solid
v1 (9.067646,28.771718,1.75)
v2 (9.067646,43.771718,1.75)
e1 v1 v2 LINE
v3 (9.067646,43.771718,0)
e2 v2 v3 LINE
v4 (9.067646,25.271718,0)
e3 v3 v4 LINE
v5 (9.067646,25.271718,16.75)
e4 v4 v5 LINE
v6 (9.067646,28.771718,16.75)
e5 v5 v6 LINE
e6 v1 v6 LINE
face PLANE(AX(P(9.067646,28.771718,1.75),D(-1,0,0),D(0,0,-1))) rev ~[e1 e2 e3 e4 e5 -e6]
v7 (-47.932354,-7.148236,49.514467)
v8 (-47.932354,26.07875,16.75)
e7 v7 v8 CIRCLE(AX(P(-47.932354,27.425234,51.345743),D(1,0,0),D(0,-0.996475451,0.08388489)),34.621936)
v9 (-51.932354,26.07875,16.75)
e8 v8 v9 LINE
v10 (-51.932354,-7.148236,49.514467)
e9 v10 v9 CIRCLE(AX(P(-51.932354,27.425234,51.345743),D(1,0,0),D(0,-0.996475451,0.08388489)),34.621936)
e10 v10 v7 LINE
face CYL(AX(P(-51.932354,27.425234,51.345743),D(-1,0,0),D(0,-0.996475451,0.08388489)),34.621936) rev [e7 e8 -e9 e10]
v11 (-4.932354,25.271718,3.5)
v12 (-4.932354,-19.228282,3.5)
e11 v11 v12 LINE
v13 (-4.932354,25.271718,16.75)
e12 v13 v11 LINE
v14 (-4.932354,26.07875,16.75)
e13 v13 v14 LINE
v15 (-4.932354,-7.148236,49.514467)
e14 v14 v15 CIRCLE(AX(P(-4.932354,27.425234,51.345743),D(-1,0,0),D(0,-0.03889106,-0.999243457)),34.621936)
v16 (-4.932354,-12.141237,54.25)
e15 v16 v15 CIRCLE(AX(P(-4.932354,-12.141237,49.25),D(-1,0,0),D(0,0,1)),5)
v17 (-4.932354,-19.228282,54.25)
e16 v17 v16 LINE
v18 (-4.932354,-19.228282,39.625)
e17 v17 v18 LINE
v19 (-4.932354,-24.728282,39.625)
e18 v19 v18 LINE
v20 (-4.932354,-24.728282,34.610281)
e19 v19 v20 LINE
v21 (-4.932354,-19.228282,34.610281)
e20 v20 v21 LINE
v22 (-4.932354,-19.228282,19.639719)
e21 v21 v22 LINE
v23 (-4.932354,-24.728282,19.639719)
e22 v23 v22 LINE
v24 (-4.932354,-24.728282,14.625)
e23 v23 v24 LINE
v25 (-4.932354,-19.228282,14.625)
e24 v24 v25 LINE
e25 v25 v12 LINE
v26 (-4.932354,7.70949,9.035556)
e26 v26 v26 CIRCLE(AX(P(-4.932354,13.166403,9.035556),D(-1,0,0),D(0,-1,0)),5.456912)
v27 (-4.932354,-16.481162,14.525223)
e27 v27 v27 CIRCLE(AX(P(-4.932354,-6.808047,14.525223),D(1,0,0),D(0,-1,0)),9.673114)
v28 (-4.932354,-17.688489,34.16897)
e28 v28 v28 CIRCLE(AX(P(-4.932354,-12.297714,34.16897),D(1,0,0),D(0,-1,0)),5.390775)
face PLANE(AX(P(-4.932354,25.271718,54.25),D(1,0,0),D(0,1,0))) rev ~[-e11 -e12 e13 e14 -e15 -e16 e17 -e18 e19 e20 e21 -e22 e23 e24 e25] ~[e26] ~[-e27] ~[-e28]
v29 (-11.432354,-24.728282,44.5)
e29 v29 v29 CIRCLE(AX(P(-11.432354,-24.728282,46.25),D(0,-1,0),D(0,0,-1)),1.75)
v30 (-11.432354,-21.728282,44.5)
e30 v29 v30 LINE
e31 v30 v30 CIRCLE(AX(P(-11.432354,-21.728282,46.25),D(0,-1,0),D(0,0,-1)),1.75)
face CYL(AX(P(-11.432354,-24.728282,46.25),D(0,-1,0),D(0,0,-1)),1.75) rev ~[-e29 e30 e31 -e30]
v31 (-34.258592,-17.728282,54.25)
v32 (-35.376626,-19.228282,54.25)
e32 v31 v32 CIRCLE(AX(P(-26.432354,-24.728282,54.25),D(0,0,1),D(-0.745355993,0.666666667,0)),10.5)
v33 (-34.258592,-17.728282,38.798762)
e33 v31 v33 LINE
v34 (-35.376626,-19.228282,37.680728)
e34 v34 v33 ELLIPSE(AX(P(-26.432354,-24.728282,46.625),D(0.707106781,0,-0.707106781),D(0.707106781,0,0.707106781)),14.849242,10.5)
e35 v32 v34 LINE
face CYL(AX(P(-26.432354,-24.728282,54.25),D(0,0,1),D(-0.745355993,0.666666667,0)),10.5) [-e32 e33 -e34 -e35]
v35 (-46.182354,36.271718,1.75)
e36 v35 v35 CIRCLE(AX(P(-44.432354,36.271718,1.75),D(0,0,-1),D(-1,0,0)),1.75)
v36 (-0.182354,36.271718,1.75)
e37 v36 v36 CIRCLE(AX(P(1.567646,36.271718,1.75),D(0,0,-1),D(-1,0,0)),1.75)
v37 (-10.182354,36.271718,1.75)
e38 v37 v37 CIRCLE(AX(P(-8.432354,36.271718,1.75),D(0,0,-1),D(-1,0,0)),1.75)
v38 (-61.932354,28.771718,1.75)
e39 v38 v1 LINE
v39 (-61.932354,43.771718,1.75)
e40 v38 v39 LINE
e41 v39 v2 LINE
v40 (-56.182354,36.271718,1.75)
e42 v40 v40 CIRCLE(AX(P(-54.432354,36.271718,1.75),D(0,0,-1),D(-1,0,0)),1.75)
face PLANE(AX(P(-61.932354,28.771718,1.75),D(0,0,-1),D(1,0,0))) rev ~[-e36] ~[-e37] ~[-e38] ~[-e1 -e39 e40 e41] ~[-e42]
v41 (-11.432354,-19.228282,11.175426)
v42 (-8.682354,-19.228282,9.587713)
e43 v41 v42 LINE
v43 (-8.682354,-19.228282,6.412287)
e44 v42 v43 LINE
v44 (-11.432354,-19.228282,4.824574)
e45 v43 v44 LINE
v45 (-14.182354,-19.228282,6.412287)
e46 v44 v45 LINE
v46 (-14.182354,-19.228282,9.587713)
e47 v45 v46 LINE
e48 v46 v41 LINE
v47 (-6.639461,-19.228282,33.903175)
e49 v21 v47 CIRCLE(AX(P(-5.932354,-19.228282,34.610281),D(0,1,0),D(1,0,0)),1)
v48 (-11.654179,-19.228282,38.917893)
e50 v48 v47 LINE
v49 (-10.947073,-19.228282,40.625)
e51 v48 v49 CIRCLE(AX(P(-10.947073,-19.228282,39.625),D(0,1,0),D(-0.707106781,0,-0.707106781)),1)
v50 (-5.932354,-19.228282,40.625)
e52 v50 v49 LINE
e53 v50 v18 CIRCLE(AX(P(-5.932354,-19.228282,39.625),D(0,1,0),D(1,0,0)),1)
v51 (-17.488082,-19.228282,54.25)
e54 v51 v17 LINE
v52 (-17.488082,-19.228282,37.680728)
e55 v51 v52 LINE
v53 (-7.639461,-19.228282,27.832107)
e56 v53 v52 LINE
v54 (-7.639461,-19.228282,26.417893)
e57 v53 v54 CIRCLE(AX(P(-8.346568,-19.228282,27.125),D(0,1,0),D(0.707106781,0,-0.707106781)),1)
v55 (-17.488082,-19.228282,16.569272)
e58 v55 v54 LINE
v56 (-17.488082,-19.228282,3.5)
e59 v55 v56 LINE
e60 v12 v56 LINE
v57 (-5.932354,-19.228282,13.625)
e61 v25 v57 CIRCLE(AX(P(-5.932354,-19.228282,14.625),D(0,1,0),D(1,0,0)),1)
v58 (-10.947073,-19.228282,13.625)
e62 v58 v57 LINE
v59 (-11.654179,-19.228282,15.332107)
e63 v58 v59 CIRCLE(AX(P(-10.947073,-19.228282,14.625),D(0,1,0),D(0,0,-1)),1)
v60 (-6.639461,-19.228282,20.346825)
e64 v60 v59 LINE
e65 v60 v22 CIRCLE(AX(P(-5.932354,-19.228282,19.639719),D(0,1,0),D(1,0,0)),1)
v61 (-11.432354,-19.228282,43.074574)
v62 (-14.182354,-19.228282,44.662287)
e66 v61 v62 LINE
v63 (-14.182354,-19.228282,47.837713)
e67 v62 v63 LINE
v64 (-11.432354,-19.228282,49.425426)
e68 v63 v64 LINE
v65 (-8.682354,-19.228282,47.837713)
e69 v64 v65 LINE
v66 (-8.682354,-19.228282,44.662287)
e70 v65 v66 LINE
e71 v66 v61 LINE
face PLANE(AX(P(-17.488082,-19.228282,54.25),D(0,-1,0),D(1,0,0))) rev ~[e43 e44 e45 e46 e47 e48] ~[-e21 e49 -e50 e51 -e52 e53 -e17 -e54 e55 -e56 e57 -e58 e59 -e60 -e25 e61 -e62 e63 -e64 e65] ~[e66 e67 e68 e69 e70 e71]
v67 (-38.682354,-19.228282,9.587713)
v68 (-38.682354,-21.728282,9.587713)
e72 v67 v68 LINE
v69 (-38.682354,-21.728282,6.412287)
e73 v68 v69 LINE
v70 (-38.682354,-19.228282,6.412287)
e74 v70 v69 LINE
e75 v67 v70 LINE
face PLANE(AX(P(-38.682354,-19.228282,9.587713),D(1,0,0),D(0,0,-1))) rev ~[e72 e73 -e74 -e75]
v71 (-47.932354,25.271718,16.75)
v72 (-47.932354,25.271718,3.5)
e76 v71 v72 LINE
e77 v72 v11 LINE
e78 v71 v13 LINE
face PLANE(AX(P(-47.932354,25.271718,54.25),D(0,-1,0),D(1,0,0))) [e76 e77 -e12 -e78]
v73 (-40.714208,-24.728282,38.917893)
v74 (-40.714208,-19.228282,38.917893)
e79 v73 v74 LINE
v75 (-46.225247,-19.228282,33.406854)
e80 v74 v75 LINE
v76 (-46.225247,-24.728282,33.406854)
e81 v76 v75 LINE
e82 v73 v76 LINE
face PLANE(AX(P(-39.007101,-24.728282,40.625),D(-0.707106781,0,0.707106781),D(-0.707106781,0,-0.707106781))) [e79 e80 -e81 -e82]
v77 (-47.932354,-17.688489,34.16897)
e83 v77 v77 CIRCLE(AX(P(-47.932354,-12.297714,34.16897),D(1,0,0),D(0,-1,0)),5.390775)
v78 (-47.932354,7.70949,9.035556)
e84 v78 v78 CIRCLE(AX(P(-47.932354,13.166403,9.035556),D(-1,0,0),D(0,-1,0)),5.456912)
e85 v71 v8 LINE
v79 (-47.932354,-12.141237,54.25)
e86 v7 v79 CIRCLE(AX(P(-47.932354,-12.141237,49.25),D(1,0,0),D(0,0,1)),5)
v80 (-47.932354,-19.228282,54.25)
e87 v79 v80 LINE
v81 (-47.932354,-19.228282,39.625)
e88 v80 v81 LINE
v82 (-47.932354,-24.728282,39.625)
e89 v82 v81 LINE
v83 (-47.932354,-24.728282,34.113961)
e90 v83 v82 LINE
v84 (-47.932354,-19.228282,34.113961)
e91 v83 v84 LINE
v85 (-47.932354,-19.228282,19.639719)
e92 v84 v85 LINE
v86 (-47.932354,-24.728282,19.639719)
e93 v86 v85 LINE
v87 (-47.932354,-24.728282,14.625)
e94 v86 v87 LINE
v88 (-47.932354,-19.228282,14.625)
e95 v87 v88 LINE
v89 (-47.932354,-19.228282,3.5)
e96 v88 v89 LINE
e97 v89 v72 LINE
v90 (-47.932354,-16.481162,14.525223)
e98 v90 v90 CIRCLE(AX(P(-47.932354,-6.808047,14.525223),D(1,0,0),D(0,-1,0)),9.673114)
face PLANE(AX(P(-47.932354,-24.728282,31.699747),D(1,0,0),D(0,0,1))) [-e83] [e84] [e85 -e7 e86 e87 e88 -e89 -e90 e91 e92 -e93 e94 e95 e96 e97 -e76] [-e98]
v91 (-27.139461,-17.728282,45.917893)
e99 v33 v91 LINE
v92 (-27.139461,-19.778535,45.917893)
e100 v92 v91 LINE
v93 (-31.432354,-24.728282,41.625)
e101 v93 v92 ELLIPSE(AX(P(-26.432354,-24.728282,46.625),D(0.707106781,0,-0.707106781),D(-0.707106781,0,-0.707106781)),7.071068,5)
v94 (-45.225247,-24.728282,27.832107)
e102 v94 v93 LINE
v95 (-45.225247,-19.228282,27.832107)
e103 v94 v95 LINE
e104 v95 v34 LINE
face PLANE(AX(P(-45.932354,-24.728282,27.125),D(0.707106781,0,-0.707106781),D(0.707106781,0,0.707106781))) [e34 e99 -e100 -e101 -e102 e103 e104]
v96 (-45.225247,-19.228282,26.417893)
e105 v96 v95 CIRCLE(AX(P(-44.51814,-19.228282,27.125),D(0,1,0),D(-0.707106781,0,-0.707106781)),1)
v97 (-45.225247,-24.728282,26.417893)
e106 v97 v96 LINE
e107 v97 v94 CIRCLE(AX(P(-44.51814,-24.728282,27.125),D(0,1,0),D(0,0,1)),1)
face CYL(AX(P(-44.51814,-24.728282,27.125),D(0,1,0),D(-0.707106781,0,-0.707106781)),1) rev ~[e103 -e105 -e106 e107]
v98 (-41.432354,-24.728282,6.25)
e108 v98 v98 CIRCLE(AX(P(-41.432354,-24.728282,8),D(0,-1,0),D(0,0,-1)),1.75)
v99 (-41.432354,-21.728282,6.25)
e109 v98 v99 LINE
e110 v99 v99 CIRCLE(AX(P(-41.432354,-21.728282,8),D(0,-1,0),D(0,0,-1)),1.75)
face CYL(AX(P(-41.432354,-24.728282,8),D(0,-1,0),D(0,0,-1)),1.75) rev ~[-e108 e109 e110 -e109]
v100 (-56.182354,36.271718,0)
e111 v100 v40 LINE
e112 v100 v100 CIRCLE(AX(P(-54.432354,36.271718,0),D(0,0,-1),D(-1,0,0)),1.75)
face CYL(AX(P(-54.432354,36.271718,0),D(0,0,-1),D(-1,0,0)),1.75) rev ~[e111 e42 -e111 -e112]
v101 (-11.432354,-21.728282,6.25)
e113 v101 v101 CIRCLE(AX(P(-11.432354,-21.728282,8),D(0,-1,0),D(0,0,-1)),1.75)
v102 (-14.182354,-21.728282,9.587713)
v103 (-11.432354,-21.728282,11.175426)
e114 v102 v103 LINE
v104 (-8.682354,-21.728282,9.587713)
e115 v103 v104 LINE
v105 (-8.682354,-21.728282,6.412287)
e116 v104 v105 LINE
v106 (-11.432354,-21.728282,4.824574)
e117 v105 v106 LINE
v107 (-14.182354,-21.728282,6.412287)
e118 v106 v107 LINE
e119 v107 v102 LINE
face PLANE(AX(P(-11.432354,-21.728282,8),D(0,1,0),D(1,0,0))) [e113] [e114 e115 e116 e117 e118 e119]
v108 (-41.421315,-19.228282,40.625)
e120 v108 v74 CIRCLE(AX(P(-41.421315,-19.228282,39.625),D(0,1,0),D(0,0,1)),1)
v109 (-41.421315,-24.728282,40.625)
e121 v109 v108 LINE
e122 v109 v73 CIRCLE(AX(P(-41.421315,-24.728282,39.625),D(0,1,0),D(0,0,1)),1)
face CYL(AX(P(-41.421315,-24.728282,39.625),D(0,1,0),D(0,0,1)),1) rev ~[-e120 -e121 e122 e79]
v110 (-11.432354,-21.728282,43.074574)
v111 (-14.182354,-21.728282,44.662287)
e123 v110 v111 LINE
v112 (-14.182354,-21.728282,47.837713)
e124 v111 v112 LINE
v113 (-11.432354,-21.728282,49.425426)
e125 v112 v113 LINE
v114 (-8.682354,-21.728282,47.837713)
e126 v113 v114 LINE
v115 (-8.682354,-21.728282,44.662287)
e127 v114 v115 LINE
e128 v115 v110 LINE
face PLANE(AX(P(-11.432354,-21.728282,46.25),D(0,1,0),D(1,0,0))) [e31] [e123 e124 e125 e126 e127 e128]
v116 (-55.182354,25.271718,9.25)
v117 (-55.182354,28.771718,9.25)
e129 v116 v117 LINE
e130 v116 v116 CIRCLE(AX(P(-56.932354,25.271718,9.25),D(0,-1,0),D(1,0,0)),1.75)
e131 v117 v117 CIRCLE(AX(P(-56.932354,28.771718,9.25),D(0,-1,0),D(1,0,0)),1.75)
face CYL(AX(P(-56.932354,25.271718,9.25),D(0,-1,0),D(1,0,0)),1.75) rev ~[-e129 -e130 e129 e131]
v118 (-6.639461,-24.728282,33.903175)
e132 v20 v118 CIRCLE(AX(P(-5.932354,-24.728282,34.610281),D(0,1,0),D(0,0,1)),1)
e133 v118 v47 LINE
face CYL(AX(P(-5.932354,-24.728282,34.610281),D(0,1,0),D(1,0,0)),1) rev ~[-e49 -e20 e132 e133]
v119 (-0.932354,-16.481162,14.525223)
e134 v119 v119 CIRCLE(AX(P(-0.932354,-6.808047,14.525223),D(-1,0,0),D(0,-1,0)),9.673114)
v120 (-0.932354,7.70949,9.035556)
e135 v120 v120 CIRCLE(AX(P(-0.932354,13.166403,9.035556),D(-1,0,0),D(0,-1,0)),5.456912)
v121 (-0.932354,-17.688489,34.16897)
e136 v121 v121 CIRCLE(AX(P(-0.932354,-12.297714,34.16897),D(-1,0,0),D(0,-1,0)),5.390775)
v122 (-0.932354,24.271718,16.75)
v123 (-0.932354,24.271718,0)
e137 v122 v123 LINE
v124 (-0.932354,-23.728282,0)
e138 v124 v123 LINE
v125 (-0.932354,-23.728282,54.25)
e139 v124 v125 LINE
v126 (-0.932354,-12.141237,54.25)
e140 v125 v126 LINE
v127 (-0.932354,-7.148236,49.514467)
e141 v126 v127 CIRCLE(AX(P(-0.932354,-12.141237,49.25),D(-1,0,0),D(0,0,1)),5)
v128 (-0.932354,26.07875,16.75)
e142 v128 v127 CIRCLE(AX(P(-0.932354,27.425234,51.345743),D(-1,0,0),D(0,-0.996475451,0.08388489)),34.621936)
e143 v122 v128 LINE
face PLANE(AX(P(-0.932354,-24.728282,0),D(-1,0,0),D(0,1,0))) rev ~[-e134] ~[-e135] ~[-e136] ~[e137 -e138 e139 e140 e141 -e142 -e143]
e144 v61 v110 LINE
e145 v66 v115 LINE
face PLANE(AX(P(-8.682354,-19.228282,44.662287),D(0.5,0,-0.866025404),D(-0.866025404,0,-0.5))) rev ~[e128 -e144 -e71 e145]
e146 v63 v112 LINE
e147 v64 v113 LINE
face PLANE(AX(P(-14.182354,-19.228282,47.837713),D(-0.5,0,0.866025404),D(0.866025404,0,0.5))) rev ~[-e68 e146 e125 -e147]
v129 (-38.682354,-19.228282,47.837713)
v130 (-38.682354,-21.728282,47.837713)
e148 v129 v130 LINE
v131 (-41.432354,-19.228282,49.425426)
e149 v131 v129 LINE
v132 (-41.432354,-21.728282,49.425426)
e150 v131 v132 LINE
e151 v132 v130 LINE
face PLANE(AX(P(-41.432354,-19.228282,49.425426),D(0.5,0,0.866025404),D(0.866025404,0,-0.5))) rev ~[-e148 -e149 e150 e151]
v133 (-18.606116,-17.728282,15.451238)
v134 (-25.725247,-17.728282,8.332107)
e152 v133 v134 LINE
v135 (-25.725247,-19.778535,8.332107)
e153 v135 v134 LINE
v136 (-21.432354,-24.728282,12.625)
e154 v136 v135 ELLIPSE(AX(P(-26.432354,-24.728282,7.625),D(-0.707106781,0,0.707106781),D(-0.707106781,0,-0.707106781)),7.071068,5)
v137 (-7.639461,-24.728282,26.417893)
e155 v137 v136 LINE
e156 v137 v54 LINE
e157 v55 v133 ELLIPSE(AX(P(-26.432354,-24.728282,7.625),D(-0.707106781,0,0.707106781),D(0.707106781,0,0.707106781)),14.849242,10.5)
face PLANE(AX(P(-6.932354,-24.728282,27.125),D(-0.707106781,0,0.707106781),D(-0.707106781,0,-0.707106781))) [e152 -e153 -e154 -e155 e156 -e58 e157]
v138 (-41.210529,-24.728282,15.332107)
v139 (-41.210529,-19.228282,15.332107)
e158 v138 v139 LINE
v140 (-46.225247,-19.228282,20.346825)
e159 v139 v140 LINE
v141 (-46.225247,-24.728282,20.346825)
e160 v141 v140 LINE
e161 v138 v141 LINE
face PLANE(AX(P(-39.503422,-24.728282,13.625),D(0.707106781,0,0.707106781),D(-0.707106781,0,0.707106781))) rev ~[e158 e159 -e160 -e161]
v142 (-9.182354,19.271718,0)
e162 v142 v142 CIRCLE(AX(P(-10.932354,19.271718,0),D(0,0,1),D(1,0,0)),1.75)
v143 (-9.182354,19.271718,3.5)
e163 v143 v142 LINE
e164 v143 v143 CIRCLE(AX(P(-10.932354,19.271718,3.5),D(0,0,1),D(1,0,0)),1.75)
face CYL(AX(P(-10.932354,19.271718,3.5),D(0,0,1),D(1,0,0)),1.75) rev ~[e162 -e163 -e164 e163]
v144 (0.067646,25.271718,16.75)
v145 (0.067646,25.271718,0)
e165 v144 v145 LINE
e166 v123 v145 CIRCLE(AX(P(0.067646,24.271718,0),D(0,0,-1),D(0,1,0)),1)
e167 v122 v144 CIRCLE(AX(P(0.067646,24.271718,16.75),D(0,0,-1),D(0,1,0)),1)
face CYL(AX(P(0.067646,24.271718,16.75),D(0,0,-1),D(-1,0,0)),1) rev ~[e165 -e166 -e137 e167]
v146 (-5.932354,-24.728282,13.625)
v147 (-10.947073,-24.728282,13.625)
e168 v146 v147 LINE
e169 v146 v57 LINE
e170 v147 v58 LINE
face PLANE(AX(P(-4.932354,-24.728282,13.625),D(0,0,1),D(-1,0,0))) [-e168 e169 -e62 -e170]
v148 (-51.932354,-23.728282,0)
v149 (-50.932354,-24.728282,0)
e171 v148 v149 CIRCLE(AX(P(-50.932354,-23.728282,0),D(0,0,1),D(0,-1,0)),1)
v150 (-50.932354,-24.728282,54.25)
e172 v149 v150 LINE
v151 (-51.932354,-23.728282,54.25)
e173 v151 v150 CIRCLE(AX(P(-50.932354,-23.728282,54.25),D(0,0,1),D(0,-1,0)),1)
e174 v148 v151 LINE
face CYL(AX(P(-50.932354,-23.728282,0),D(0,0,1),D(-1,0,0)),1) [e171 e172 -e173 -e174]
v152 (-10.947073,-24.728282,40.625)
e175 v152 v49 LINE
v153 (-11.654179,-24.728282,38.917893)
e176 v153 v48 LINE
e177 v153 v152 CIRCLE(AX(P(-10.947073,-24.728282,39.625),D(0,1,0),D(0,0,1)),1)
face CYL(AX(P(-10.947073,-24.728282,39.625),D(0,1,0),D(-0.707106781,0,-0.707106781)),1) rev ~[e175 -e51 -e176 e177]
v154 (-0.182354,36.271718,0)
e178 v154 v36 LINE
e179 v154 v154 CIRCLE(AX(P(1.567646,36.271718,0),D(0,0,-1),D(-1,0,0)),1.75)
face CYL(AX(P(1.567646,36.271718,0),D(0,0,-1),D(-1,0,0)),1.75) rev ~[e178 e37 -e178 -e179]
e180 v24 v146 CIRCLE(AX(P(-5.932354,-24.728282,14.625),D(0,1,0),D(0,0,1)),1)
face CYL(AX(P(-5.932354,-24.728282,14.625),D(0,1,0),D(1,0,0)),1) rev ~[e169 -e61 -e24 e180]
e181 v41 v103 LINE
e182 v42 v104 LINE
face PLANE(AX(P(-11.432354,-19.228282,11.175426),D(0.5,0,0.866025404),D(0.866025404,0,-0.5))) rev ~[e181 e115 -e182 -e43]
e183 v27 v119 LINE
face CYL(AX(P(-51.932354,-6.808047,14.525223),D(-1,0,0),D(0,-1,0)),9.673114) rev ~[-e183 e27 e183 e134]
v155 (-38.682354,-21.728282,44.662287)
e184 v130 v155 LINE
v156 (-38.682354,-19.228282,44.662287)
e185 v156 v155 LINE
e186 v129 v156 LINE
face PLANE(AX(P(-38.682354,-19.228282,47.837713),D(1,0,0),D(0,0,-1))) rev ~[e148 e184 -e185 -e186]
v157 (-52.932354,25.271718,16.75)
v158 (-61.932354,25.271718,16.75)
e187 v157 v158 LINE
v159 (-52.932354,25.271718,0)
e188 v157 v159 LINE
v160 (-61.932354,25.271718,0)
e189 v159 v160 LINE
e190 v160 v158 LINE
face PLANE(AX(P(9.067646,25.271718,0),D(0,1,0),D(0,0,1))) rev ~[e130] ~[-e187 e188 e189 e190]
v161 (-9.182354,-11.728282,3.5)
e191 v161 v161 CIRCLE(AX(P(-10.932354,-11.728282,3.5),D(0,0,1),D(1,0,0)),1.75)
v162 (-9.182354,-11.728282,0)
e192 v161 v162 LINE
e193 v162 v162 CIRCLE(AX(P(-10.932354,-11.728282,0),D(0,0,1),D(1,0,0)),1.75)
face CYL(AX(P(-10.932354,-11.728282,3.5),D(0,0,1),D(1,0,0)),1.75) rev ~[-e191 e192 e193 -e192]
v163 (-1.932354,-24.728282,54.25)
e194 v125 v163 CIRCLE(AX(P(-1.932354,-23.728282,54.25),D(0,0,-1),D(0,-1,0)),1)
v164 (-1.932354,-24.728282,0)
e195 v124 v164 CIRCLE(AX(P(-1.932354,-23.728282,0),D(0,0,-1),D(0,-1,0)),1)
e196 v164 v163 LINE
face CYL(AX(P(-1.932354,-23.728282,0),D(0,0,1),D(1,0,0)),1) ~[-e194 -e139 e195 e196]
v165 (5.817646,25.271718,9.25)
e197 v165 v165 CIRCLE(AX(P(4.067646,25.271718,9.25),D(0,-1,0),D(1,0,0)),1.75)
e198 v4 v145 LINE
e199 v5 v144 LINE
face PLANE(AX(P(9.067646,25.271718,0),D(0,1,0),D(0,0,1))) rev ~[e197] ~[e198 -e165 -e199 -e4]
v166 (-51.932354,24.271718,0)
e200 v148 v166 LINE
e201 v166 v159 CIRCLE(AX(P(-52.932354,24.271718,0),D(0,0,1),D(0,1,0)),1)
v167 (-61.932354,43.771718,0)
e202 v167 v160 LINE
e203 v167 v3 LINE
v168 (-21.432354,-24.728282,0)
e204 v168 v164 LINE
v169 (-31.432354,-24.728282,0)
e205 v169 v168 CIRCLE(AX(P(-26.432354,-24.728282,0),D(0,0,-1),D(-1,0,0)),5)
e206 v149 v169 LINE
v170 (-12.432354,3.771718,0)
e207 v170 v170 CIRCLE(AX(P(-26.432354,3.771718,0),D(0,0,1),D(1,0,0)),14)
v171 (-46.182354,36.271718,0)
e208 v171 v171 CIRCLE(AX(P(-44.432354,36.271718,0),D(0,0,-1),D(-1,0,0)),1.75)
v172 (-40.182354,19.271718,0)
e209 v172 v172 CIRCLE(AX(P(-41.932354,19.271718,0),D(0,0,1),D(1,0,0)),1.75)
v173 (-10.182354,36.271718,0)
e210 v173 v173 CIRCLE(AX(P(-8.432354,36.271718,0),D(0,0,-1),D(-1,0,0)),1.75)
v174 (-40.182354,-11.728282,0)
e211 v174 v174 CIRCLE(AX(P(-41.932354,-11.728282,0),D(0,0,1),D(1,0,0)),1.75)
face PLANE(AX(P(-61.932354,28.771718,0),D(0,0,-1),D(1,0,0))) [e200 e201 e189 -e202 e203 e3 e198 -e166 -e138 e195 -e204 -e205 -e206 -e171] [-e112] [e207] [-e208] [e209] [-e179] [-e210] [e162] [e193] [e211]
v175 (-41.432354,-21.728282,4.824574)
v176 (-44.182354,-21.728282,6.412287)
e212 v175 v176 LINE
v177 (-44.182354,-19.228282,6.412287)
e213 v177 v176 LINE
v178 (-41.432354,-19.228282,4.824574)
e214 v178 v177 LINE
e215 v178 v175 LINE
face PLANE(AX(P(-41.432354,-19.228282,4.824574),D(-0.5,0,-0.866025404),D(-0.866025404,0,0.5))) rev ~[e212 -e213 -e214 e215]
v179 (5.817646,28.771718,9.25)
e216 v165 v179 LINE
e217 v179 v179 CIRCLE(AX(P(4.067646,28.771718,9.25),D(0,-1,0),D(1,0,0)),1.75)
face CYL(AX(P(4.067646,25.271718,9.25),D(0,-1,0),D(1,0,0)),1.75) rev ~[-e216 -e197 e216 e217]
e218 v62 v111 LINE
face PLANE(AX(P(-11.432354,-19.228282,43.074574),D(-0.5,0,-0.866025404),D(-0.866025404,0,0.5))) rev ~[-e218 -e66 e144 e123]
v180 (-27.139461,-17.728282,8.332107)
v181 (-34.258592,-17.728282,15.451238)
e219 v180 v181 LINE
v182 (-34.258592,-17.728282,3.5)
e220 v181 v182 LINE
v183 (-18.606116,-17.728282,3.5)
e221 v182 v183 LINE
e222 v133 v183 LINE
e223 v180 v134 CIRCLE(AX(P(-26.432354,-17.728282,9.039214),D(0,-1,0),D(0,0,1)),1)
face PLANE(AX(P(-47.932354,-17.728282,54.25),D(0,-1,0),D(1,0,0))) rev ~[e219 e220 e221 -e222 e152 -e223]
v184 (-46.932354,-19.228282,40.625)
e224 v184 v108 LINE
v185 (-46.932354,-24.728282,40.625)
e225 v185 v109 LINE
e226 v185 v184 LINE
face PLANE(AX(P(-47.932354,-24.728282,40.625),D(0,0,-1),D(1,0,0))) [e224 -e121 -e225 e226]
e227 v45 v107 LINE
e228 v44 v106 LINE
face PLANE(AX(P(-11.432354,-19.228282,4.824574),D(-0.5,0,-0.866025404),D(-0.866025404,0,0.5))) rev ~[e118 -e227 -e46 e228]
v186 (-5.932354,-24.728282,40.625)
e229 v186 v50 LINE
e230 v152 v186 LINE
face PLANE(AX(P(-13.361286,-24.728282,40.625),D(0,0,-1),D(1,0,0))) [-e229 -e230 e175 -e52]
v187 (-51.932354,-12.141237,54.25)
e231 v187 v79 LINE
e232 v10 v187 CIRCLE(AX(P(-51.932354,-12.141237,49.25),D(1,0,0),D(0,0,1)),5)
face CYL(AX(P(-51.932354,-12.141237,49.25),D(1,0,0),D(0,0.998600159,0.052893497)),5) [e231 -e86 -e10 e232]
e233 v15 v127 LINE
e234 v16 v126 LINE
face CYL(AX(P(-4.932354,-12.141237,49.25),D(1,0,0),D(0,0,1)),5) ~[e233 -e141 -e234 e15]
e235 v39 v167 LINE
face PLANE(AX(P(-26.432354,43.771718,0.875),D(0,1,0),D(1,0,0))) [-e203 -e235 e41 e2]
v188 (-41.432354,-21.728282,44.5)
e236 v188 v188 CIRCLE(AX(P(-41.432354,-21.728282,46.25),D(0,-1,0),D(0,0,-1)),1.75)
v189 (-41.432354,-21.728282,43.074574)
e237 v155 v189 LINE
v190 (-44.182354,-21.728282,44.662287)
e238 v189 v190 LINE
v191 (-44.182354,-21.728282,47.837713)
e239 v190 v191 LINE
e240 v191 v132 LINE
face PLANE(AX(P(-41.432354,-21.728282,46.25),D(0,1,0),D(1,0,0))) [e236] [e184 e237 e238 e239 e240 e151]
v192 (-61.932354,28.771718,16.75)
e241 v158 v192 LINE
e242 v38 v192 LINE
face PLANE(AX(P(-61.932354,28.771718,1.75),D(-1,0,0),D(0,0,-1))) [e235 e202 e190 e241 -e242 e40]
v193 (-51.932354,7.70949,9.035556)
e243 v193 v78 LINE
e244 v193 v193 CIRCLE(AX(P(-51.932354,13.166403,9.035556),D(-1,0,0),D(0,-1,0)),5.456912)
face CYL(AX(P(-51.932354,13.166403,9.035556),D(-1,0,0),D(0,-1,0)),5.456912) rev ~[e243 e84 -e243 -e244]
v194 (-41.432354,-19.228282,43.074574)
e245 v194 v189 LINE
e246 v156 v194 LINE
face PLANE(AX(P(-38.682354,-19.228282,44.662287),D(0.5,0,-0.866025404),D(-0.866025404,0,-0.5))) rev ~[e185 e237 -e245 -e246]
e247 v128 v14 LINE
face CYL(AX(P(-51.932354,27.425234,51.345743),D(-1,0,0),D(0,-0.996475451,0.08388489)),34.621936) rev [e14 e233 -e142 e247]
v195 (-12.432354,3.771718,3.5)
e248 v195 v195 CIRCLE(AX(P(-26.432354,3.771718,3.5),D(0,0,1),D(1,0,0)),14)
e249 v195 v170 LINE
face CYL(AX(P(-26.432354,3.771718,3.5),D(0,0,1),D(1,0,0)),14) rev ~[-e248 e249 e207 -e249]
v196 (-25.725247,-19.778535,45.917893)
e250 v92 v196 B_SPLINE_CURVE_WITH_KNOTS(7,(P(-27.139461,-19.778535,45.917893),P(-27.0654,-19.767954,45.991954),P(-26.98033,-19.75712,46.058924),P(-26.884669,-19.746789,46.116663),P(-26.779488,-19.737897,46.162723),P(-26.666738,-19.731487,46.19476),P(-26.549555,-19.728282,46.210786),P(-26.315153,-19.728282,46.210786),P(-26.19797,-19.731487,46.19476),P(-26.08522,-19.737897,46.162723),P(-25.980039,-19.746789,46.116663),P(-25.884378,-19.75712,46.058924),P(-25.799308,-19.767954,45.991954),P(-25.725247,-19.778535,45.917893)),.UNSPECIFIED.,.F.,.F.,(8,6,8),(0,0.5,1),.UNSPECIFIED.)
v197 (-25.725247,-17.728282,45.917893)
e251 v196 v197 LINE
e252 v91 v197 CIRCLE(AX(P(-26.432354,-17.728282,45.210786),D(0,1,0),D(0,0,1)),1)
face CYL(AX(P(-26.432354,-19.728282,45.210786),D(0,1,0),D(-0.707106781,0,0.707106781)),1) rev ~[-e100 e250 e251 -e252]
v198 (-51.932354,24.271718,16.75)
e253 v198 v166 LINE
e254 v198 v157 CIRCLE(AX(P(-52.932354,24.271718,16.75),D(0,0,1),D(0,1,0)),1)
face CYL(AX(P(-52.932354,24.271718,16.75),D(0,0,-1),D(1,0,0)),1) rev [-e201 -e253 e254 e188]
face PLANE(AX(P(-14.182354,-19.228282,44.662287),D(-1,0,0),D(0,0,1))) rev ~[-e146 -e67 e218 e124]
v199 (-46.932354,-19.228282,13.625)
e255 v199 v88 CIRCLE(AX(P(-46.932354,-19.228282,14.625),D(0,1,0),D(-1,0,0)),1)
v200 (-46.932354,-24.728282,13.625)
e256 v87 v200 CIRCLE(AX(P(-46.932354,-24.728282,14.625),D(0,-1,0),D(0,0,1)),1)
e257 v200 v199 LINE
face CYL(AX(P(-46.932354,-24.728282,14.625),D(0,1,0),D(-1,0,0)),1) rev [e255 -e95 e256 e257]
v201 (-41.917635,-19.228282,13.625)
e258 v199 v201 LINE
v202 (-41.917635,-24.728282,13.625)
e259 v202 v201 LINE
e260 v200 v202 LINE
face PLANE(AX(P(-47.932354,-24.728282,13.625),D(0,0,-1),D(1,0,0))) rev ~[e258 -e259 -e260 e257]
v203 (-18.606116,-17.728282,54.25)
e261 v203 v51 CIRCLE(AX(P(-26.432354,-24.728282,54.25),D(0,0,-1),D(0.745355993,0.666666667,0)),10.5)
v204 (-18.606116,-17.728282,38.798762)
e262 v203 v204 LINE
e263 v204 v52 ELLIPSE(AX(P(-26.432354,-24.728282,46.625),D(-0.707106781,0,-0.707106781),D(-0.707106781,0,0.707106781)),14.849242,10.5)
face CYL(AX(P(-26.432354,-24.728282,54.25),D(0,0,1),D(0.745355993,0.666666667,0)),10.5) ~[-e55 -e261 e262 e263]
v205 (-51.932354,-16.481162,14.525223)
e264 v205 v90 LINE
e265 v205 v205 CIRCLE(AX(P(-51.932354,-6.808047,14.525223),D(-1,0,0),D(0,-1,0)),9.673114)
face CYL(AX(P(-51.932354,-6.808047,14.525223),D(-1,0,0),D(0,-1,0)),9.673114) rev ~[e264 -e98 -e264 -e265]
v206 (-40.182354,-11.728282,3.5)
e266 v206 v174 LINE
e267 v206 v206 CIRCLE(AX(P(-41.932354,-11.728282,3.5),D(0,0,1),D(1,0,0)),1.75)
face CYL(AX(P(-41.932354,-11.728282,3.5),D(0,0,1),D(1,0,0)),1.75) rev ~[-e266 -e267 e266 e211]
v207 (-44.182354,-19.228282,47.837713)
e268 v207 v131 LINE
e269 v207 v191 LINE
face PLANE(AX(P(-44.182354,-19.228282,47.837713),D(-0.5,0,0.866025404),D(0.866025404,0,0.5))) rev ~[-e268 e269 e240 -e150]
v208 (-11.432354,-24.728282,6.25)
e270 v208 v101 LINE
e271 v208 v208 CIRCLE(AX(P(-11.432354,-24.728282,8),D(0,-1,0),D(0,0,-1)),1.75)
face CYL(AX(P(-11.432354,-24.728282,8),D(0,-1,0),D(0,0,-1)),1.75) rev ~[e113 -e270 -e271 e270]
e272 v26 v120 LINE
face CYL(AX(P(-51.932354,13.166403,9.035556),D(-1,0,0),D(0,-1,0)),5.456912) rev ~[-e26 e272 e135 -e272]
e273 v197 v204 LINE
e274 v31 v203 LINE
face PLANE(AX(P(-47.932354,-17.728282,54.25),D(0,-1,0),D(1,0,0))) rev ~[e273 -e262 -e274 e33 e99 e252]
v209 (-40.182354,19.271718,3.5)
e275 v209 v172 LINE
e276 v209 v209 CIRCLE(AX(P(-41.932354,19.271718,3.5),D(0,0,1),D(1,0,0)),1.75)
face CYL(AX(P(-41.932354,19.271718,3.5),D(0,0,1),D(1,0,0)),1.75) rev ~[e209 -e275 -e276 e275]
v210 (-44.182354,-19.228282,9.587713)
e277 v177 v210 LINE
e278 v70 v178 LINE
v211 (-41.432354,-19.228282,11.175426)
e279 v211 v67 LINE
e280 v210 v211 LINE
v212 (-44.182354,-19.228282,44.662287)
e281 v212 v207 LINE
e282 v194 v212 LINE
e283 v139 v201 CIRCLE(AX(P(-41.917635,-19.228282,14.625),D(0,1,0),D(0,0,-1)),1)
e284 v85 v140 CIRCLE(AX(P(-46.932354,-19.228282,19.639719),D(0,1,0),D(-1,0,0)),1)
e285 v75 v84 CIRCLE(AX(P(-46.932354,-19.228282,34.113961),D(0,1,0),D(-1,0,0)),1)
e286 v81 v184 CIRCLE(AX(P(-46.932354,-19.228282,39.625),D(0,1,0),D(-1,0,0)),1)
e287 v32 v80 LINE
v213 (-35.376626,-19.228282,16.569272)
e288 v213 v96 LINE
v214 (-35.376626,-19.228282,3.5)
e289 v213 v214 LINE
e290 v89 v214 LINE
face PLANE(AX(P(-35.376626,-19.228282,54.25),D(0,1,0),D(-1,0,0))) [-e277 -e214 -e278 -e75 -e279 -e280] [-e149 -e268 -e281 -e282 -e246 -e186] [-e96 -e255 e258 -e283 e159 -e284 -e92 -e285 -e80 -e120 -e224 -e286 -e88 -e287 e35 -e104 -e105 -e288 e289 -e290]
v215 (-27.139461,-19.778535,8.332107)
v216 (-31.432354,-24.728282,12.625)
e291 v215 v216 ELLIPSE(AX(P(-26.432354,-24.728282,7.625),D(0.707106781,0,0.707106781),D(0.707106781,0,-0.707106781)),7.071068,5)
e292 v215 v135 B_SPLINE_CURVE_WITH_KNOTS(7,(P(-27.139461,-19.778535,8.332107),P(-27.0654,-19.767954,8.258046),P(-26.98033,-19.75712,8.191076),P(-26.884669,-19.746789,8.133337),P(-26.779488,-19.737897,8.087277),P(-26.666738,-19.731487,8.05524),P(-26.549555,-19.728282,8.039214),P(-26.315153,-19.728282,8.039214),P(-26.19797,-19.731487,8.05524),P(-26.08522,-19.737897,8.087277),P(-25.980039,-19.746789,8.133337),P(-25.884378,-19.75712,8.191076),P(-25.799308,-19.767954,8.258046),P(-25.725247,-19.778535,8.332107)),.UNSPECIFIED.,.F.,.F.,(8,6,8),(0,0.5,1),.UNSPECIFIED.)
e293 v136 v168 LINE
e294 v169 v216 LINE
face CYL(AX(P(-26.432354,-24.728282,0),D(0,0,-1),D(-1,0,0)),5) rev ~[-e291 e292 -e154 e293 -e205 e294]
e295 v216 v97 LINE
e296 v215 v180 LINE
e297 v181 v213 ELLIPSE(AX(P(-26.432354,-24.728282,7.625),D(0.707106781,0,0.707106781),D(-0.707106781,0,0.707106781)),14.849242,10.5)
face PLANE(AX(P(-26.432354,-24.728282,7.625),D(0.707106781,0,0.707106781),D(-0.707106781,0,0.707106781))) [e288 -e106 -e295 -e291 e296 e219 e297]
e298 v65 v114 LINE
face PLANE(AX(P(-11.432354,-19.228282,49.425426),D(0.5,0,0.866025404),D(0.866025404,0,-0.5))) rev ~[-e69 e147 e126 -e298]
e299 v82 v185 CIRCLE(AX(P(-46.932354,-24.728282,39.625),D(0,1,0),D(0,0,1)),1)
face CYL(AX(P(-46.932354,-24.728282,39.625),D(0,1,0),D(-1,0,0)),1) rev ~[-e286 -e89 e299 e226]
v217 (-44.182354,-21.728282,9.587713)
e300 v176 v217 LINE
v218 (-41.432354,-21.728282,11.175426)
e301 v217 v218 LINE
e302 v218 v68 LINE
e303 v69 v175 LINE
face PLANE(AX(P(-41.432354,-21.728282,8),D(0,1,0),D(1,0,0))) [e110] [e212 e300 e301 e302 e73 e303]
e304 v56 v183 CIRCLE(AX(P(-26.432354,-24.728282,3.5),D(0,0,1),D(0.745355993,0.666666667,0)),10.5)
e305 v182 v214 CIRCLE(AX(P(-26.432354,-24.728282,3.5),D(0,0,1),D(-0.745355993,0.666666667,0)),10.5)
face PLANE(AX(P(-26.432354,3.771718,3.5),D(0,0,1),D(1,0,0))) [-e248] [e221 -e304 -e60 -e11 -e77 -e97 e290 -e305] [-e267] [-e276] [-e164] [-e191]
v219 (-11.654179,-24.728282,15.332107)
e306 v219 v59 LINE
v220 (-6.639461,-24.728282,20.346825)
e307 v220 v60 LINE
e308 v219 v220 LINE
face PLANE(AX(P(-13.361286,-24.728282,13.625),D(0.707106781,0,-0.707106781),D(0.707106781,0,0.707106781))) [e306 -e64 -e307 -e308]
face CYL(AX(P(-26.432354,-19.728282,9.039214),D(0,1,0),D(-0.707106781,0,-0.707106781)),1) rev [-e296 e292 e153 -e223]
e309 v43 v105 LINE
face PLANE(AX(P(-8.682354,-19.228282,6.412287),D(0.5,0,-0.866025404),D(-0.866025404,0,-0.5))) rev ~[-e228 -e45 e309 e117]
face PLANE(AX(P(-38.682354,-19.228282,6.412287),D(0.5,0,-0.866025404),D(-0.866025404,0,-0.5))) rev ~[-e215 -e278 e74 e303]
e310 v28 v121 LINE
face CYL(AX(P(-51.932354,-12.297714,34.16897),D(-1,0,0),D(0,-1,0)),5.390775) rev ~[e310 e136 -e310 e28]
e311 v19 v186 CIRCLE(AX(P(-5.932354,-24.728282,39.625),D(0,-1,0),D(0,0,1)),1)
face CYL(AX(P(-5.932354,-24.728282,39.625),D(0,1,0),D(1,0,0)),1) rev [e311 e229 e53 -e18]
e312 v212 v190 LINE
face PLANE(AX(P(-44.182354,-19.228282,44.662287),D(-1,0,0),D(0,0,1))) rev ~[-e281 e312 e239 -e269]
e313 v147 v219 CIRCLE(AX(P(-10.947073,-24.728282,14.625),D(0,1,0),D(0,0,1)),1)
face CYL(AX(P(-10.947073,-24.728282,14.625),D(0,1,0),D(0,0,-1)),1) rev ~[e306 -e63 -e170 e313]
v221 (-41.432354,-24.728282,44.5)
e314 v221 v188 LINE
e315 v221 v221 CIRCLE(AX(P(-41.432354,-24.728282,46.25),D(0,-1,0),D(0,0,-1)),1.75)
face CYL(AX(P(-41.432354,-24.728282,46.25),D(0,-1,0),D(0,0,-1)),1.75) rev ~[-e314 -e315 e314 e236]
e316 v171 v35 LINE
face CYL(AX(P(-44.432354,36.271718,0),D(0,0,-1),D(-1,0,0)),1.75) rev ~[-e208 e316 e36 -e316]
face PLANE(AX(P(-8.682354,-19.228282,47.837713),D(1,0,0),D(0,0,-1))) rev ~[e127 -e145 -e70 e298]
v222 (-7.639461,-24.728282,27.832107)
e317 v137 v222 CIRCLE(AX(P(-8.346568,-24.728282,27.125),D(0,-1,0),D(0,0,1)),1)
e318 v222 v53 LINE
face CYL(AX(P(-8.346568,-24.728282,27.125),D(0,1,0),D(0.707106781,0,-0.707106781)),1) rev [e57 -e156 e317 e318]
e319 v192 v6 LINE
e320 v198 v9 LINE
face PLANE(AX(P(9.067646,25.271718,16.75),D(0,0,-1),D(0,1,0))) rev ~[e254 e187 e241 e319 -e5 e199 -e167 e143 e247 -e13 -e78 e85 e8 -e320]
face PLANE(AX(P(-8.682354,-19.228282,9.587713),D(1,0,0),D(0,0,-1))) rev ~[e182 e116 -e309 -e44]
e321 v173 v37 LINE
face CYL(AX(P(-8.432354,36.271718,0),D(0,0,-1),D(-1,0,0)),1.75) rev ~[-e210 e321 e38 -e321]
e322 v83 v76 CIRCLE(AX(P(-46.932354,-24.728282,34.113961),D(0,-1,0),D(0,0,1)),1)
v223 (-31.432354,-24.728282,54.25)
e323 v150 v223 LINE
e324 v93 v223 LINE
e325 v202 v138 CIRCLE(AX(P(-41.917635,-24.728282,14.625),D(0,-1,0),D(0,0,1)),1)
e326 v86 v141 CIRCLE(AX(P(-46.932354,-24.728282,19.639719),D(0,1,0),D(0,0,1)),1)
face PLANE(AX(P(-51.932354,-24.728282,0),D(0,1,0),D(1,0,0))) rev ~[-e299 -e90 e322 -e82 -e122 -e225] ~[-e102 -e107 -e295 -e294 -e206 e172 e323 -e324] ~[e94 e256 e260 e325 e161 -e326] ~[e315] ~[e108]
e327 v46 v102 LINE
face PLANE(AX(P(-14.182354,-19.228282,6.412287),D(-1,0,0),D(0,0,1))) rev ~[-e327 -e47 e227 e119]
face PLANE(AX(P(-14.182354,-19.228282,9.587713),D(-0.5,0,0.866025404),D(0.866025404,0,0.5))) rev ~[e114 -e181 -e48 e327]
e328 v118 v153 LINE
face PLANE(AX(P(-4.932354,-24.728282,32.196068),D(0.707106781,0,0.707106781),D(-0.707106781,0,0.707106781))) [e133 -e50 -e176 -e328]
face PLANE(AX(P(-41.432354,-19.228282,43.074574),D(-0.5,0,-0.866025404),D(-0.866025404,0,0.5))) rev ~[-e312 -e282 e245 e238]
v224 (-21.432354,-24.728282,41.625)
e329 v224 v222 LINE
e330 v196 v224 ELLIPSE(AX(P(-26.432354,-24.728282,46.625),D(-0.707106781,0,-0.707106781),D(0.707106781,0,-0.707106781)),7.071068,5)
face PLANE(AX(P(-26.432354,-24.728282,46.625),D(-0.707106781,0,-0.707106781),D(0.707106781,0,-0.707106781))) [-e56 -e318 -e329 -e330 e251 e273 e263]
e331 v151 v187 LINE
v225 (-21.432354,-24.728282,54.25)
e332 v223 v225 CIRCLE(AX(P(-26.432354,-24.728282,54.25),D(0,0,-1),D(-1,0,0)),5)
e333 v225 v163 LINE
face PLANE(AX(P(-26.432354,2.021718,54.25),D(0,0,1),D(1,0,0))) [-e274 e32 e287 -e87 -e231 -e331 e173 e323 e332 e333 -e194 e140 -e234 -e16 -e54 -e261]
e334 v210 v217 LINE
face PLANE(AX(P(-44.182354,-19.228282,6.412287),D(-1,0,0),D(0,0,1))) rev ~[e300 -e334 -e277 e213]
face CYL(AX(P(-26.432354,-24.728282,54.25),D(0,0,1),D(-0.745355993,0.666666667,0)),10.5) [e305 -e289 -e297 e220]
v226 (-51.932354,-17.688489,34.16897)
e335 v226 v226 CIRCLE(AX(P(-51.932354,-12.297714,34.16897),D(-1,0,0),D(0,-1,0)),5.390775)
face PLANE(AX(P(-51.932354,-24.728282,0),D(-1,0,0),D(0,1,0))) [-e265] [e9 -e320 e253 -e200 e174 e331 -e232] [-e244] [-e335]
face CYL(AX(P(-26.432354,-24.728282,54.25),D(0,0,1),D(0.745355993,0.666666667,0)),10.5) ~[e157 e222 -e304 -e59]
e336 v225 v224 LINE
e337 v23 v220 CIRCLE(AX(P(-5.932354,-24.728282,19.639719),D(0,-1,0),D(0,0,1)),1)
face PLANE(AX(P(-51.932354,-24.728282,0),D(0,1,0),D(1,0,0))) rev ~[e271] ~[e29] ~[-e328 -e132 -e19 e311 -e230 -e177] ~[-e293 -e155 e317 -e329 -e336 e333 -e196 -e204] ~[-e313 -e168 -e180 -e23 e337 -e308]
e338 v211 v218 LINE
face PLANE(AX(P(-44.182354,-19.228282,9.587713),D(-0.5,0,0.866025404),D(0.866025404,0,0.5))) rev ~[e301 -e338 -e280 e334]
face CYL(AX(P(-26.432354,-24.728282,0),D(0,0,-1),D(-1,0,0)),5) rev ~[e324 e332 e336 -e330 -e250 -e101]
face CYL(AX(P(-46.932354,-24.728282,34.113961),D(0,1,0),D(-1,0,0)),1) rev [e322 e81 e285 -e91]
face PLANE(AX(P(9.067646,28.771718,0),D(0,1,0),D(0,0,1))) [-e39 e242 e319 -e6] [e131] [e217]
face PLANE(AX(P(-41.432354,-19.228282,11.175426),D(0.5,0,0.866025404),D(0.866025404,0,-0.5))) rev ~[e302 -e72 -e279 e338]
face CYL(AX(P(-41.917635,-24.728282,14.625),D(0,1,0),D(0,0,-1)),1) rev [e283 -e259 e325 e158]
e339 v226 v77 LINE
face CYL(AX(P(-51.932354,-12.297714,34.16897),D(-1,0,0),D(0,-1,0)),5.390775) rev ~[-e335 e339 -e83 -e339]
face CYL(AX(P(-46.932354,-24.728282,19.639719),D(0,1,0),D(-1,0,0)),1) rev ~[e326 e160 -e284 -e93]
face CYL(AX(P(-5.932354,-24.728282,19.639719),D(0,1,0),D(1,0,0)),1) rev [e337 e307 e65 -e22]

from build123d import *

# Parameters (mm, degrees)
SKETCH1_W                = 51
SKETCH1_H                = 53.5
BOSS_EXTRUDE1_DEPTH      = 54.25
SKETCH2_W                = 43
SKETCH2_H                = 43
CUT_EXTRUDE1_DEPTH       = 50.75
SKETCH3_W                = 43
SKETCH3_H                = 3.5
CUT_EXTRUDE2_DEPTH       = 37.5
CUT_EXTRUDE3_DEPTH       = 76
SKETCH5_R                = 9.673114497
SKETCH5_R_2              = 5.390775308
SKETCH5_R_3              = 5.456912487
CUT_EXTRUDE4_DEPTH       = 76
SKETCH6_R                = 14
SKETCH6_R_2              = 1.75
CUT_EXTRUDE5_DEPTH       = 76
SKETCH7_R                = 5
CUT_EXTRUDE6_DEPTH       = 76
CUT_EXTRUDE7_DEPTH       = 27
FILLET2_R                = 1
SKETCH12_R               = 1.75
CUT_EXTRUDE8_DEPTH       = 15
BOSS_EXTRUDE4_DEPTH      = 10
BOSS_EXTRUDE4_DEPTH_BACK = 61
SKETCH13_W               = 16.75
SKETCH13_H               = 3.5
SKETCH14_W               = 71
SKETCH14_H               = 1.75
BOSS_EXTRUDE5_DEPTH      = 15
SKETCH15_R               = 1.75
CUT_EXTRUDE9_DEPTH       = 10
SKETCH16_R               = 1.75
CUT_EXTRUDE10_DEPTH      = 10
CUT_EXTRUDE11_REACH      = 95.245
FILLET3_R                = 5
FILLET4_R                = 1
CUT_EXTRUDE12_DEPTH      = 2.5


with BuildPart() as part:
    # Sketch1 → Boss-Extrude1 (new body)
    with BuildSketch(Plane.XY):
        with Locations((-26.432354029, 2.021717979)):
            Rectangle(SKETCH1_W, SKETCH1_H)
    extrude(amount=BOSS_EXTRUDE1_DEPTH)

    # Sketch2 → Cut-Extrude1 (cut)
    with BuildSketch(Plane.XY.offset(54.25)):
        with Locations((-26.432354029, 3.771717979)):
            Rectangle(SKETCH2_W, SKETCH2_H)
    extrude(amount=-CUT_EXTRUDE1_DEPTH, mode=Mode.SUBTRACT)

    # Sketch3 → Cut-Extrude2 (cut)
    with BuildSketch(Plane.XY.offset(54.25)):
        with Locations((-26.432354029, 27.021717979)):
            Rectangle(SKETCH3_W, SKETCH3_H)
    extrude(amount=-CUT_EXTRUDE2_DEPTH, mode=Mode.SUBTRACT)

    # Sketch4 → Cut-Extrude3 (cut)
    with BuildSketch(Plane.ZY.offset(51.932354029)):
        with BuildLine():
            Line((16.75, 28.771717979), (54.25, 28.771717979))
            Line((54.25, 28.771717979), (54.25, -7.074674815))
            ThreePointArc((54.25, -7.074674815), (27.422353926, 2.398250742), (16.75, 28.771717979))
        make_face()
    extrude(amount=-CUT_EXTRUDE3_DEPTH, mode=Mode.SUBTRACT)

    # Sketch5 → Cut-Extrude4 (cut)
    with BuildSketch(Plane.ZY.offset(51.932354029)):
        with Locations(Location((14.525222974, -6.808047023, 0), (0, 0, 270))):
            Circle(SKETCH5_R)
        with Locations(Location((34.168969833, -12.297713654, 0), (0, 0, 270))):
            Circle(SKETCH5_R_2)
        with Locations(Location((9.035556344, 13.166402645, 0), (0, 0, 270))):
            Circle(SKETCH5_R_3)
    extrude(amount=-CUT_EXTRUDE4_DEPTH, mode=Mode.SUBTRACT)

    # Sketch6 → Cut-Extrude5 (cut)
    with BuildSketch(Plane.XY.offset(3.5)):
        with Locations((-26.432354029, 3.771717979)):
            Circle(SKETCH6_R)
        with Locations((-10.932354029, 19.271717979)):
            Circle(SKETCH6_R_2)
        with Locations((-41.932354029, 19.271717979)):
            Circle(SKETCH6_R_2)
        with Locations((-41.932354029, -11.728282021)):
            Circle(SKETCH6_R_2)
        with Locations((-10.932354029, -11.728282021)):
            Circle(SKETCH6_R_2)
    extrude(amount=-CUT_EXTRUDE5_DEPTH, mode=Mode.SUBTRACT)

    # Sketch7 → Cut-Extrude6 (cut)
    with BuildSketch(Plane(origin=(0, 0, 0), x_dir=(-1, 0, 0), z_dir=(0, 0, -1))):
        with Locations((26.432354029, -24.728282021)):
            Circle(SKETCH7_R)
    extrude(amount=-CUT_EXTRUDE6_DEPTH, mode=Mode.SUBTRACT)

    # Sketch8 → Cut-Extrude7 (cut)
    with BuildSketch(Plane.XZ.offset(24.728282021)):
        Polygon((-26.432354029, 46.625), (-6.932354029, 27.125), (-26.432354029, 7.625), (-45.932354029, 27.125), align=None)
        Polygon((-13.361286217, 40.625), (-4.932354029, 40.625), (-4.932354029, 32.196067812), align=None)
        Polygon((-4.932354029, 13.625), (-13.361286217, 13.625), (-4.932354029, 22.053932188), align=None)
        Polygon((-47.932354029, 13.625), (-39.503421841, 13.625), (-47.932354029, 22.053932188), align=None)
        Polygon((-47.932354029, 40.625), (-39.007101497, 40.625), (-47.932354029, 31.699747468), align=None)
    extrude(amount=-CUT_EXTRUDE7_DEPTH, mode=Mode.SUBTRACT)

    # Fillet2
    fillet2_edges = [part.edges().sort_by_distance(p)[0] for p in [
        (-47.932354029, -21.228282021, 31.699747468),
        (-4.932354029, -21.228282021, 32.196067812),
        (-4.932354029, -21.228282021, 22.053932188),
        (-47.932354029, -21.228282021, 22.053932188),
        (-13.361286217, -21.228282021, 13.625),
        (-39.503421841, -21.228282021, 13.625),
        (-26.432354029, -18.728282021, 7.625),
        (-4.932354029, -21.228282021, 13.625),
        (-47.932354029, -21.228282021, 13.625),
        (-45.932354029, -21.228282021, 27.125),
        (-6.932354029, -21.228282021, 27.125),
        (-4.932354029, -21.228282021, 40.625),
        (-47.932354029, -21.228282021, 40.625),
        (-39.007101497, -21.228282021, 40.625),
        (-13.361286217, -21.228282021, 40.625),
        (-26.432354029, -18.728282021, 46.625),
    ]]
    fillet(fillet2_edges, radius=FILLET2_R)

    # Sketch12 → Cut-Extrude8 (cut)
    with BuildSketch(Plane.XZ.offset(24.728282021)):
        with Locations(Location((-11.432354029, 46.25, 0), (0, 0, 270))):
            Circle(SKETCH12_R)
        with Locations(Location((-41.432354029, 46.25, 0), (0, 0, 270))):
            Circle(SKETCH12_R)
        with Locations(Location((-11.432354029, 8, 0), (0, 0, 270))):
            Circle(SKETCH12_R)
        with Locations(Location((-41.432354029, 8, 0), (0, 0, 270))):
            Circle(SKETCH12_R)
    extrude(amount=-CUT_EXTRUDE8_DEPTH, mode=Mode.SUBTRACT)

    # Sketch13 → Boss-Extrude4 (add, two sides: drawn at the far end of the back side and taken through both)
    with BuildSketch(Plane.ZY.offset(51.932354029).offset(-BOSS_EXTRUDE4_DEPTH_BACK)):
        with Locations((8.375, 27.021717979)):
            Rectangle(SKETCH13_W, SKETCH13_H)
    extrude(amount=BOSS_EXTRUDE4_DEPTH + BOSS_EXTRUDE4_DEPTH_BACK)

    # Sketch14 → Boss-Extrude5 (add)
    with BuildSketch(Plane(origin=(0, 28.771717979, 0), x_dir=(1, 0, 0), z_dir=(0, 1, 0))):
        with Locations((-26.432354029, -0.875)):
            Rectangle(SKETCH14_W, SKETCH14_H)
    extrude(amount=BOSS_EXTRUDE5_DEPTH)

    # Sketch15 → Cut-Extrude9 (cut)
    with BuildSketch(Plane.XZ.offset(-25.271717979)):
        with Locations((-56.932354029, 9.25)):
            Circle(SKETCH15_R)
        with Locations((4.067645971, 9.25)):
            Circle(SKETCH15_R)
    extrude(amount=-CUT_EXTRUDE9_DEPTH, mode=Mode.SUBTRACT)

    # Sketch16 → Cut-Extrude10 (cut)
    with BuildSketch(Plane(origin=(0, 0, 0), x_dir=(-1, 0, 0), z_dir=(0, 0, -1))):
        with Locations((54.432354029, 36.271717979)):
            Circle(SKETCH16_R)
        with Locations((-1.567645971, 36.271717979)):
            Circle(SKETCH16_R)
        with Locations((44.432354029, 36.271717979)):
            Circle(SKETCH16_R)
        with Locations((8.432354029, 36.271717979)):
            Circle(SKETCH16_R)
    extrude(amount=-CUT_EXTRUDE10_DEPTH, mode=Mode.SUBTRACT)

    # Cut-Extrude11: up to this face of the body (flat: up to its plane)
    cut_extrude11_end = Plane(part.part.faces().sort_by_distance((-26.432354029, -17.120170189, 3.5))[0])
    # Sketch17 → Cut-Extrude11 (cut, up to the picked face)
    with BuildSketch(Plane.XY.offset(54.25), mode=Mode.PRIVATE) as cut_extrude11_sk1:
        with BuildLine():
            Line((-17.488082119, -19.228282021), (-4.932354029, -19.228282021))
            Line((-4.932354029, -19.228282021), (-4.932354029, -17.728282021))
            Line((-4.932354029, -17.728282021), (-18.606116108, -17.728282021))
            ThreePointArc((-18.606116108, -17.728282021), (-18.013624909, -18.453331822), (-17.488082119, -19.228282021))
        make_face()
    cut_extrude11_tool1 = split(extrude(cut_extrude11_sk1.sketch, amount=-CUT_EXTRUDE11_REACH, mode=Mode.PRIVATE), bisect_by=cut_extrude11_end, keep=Keep.BOTH, mode=Mode.PRIVATE)
    # Sketch17 → Cut-Extrude11 (cut, up to the picked face)
    with BuildSketch(Plane.XY.offset(54.25), mode=Mode.PRIVATE) as cut_extrude11_sk2:
        with BuildLine():
            Line((-35.376625939, -19.228282021), (-47.932354029, -19.228282021))
            Line((-47.932354029, -19.228282021), (-47.932354029, -17.728282021))
            Line((-47.932354029, -17.728282021), (-34.25859195, -17.728282021))
            ThreePointArc((-34.25859195, -17.728282021), (-34.851083149, -18.453331822), (-35.376625939, -19.228282021))
        make_face()
    cut_extrude11_tool2 = split(extrude(cut_extrude11_sk2.sketch, amount=-CUT_EXTRUDE11_REACH, mode=Mode.PRIVATE), bisect_by=cut_extrude11_end, keep=Keep.BOTH, mode=Mode.PRIVATE)
    add(cut_extrude11_tool1.solids().sort_by(Axis((-11.476334, -18.467624, 54.25), (0, 0, -1)))[0], mode=Mode.SUBTRACT)
    add(cut_extrude11_tool2.solids().sort_by(Axis((-41.388374, -18.467624, 54.25), (0, 0, -1)))[0], mode=Mode.SUBTRACT)

    # Fillet3
    fillet3_edges = [part.edges().sort_by_distance(p)[0] for p in [
        (-2.932354029, -7.074674815, 54.25),
        (-49.932354029, -7.074674815, 54.25),
    ]]
    fillet(fillet3_edges, radius=FILLET3_R)

    # Fillet4
    fillet4_edges = [part.edges().sort_by_distance(p)[0] for p in [
        (-51.932354029, 25.271717979, 8.375),
        (-0.932354029, 25.271717979, 8.375),
        (-0.932354029, -24.728282021, 27.125),
        (-51.932354029, -24.728282021, 27.125),
    ]]
    fillet(fillet4_edges, radius=FILLET4_R)

    # Sketch19 → Cut-Extrude12 (cut)
    with BuildSketch(Plane(origin=(0, -19.228282021, 0), x_dir=(1, 0, 0), z_dir=(0, 1, 0))):
        Polygon((-44.182354029, -9.58771324), (-41.432354029, -11.175426481), (-38.682354029, -9.58771324), (-38.682354029, -6.41228676), (-41.432354029, -4.824573519), (-44.182354029, -6.41228676), align=None)
        Polygon((-11.432354029, -4.824573519), (-14.182354029, -6.41228676), (-14.182354029, -9.58771324), (-11.432354029, -11.175426481), (-8.682354029, -9.58771324), (-8.682354029, -6.41228676), align=None)
        Polygon((-38.682354029, -47.83771324), (-38.682354029, -44.66228676), (-41.432354029, -43.074573519), (-44.182354029, -44.66228676), (-44.182354029, -47.83771324), (-41.432354029, -49.425426481), align=None)
        Polygon((-8.682354029, -47.83771324), (-8.682354029, -44.66228676), (-11.432354029, -43.074573519), (-14.182354029, -44.66228676), (-14.182354029, -47.83771324), (-11.432354029, -49.425426481), align=None)
    extrude(amount=-CUT_EXTRUDE12_DEPTH, mode=Mode.SUBTRACT)


solid = part.part
